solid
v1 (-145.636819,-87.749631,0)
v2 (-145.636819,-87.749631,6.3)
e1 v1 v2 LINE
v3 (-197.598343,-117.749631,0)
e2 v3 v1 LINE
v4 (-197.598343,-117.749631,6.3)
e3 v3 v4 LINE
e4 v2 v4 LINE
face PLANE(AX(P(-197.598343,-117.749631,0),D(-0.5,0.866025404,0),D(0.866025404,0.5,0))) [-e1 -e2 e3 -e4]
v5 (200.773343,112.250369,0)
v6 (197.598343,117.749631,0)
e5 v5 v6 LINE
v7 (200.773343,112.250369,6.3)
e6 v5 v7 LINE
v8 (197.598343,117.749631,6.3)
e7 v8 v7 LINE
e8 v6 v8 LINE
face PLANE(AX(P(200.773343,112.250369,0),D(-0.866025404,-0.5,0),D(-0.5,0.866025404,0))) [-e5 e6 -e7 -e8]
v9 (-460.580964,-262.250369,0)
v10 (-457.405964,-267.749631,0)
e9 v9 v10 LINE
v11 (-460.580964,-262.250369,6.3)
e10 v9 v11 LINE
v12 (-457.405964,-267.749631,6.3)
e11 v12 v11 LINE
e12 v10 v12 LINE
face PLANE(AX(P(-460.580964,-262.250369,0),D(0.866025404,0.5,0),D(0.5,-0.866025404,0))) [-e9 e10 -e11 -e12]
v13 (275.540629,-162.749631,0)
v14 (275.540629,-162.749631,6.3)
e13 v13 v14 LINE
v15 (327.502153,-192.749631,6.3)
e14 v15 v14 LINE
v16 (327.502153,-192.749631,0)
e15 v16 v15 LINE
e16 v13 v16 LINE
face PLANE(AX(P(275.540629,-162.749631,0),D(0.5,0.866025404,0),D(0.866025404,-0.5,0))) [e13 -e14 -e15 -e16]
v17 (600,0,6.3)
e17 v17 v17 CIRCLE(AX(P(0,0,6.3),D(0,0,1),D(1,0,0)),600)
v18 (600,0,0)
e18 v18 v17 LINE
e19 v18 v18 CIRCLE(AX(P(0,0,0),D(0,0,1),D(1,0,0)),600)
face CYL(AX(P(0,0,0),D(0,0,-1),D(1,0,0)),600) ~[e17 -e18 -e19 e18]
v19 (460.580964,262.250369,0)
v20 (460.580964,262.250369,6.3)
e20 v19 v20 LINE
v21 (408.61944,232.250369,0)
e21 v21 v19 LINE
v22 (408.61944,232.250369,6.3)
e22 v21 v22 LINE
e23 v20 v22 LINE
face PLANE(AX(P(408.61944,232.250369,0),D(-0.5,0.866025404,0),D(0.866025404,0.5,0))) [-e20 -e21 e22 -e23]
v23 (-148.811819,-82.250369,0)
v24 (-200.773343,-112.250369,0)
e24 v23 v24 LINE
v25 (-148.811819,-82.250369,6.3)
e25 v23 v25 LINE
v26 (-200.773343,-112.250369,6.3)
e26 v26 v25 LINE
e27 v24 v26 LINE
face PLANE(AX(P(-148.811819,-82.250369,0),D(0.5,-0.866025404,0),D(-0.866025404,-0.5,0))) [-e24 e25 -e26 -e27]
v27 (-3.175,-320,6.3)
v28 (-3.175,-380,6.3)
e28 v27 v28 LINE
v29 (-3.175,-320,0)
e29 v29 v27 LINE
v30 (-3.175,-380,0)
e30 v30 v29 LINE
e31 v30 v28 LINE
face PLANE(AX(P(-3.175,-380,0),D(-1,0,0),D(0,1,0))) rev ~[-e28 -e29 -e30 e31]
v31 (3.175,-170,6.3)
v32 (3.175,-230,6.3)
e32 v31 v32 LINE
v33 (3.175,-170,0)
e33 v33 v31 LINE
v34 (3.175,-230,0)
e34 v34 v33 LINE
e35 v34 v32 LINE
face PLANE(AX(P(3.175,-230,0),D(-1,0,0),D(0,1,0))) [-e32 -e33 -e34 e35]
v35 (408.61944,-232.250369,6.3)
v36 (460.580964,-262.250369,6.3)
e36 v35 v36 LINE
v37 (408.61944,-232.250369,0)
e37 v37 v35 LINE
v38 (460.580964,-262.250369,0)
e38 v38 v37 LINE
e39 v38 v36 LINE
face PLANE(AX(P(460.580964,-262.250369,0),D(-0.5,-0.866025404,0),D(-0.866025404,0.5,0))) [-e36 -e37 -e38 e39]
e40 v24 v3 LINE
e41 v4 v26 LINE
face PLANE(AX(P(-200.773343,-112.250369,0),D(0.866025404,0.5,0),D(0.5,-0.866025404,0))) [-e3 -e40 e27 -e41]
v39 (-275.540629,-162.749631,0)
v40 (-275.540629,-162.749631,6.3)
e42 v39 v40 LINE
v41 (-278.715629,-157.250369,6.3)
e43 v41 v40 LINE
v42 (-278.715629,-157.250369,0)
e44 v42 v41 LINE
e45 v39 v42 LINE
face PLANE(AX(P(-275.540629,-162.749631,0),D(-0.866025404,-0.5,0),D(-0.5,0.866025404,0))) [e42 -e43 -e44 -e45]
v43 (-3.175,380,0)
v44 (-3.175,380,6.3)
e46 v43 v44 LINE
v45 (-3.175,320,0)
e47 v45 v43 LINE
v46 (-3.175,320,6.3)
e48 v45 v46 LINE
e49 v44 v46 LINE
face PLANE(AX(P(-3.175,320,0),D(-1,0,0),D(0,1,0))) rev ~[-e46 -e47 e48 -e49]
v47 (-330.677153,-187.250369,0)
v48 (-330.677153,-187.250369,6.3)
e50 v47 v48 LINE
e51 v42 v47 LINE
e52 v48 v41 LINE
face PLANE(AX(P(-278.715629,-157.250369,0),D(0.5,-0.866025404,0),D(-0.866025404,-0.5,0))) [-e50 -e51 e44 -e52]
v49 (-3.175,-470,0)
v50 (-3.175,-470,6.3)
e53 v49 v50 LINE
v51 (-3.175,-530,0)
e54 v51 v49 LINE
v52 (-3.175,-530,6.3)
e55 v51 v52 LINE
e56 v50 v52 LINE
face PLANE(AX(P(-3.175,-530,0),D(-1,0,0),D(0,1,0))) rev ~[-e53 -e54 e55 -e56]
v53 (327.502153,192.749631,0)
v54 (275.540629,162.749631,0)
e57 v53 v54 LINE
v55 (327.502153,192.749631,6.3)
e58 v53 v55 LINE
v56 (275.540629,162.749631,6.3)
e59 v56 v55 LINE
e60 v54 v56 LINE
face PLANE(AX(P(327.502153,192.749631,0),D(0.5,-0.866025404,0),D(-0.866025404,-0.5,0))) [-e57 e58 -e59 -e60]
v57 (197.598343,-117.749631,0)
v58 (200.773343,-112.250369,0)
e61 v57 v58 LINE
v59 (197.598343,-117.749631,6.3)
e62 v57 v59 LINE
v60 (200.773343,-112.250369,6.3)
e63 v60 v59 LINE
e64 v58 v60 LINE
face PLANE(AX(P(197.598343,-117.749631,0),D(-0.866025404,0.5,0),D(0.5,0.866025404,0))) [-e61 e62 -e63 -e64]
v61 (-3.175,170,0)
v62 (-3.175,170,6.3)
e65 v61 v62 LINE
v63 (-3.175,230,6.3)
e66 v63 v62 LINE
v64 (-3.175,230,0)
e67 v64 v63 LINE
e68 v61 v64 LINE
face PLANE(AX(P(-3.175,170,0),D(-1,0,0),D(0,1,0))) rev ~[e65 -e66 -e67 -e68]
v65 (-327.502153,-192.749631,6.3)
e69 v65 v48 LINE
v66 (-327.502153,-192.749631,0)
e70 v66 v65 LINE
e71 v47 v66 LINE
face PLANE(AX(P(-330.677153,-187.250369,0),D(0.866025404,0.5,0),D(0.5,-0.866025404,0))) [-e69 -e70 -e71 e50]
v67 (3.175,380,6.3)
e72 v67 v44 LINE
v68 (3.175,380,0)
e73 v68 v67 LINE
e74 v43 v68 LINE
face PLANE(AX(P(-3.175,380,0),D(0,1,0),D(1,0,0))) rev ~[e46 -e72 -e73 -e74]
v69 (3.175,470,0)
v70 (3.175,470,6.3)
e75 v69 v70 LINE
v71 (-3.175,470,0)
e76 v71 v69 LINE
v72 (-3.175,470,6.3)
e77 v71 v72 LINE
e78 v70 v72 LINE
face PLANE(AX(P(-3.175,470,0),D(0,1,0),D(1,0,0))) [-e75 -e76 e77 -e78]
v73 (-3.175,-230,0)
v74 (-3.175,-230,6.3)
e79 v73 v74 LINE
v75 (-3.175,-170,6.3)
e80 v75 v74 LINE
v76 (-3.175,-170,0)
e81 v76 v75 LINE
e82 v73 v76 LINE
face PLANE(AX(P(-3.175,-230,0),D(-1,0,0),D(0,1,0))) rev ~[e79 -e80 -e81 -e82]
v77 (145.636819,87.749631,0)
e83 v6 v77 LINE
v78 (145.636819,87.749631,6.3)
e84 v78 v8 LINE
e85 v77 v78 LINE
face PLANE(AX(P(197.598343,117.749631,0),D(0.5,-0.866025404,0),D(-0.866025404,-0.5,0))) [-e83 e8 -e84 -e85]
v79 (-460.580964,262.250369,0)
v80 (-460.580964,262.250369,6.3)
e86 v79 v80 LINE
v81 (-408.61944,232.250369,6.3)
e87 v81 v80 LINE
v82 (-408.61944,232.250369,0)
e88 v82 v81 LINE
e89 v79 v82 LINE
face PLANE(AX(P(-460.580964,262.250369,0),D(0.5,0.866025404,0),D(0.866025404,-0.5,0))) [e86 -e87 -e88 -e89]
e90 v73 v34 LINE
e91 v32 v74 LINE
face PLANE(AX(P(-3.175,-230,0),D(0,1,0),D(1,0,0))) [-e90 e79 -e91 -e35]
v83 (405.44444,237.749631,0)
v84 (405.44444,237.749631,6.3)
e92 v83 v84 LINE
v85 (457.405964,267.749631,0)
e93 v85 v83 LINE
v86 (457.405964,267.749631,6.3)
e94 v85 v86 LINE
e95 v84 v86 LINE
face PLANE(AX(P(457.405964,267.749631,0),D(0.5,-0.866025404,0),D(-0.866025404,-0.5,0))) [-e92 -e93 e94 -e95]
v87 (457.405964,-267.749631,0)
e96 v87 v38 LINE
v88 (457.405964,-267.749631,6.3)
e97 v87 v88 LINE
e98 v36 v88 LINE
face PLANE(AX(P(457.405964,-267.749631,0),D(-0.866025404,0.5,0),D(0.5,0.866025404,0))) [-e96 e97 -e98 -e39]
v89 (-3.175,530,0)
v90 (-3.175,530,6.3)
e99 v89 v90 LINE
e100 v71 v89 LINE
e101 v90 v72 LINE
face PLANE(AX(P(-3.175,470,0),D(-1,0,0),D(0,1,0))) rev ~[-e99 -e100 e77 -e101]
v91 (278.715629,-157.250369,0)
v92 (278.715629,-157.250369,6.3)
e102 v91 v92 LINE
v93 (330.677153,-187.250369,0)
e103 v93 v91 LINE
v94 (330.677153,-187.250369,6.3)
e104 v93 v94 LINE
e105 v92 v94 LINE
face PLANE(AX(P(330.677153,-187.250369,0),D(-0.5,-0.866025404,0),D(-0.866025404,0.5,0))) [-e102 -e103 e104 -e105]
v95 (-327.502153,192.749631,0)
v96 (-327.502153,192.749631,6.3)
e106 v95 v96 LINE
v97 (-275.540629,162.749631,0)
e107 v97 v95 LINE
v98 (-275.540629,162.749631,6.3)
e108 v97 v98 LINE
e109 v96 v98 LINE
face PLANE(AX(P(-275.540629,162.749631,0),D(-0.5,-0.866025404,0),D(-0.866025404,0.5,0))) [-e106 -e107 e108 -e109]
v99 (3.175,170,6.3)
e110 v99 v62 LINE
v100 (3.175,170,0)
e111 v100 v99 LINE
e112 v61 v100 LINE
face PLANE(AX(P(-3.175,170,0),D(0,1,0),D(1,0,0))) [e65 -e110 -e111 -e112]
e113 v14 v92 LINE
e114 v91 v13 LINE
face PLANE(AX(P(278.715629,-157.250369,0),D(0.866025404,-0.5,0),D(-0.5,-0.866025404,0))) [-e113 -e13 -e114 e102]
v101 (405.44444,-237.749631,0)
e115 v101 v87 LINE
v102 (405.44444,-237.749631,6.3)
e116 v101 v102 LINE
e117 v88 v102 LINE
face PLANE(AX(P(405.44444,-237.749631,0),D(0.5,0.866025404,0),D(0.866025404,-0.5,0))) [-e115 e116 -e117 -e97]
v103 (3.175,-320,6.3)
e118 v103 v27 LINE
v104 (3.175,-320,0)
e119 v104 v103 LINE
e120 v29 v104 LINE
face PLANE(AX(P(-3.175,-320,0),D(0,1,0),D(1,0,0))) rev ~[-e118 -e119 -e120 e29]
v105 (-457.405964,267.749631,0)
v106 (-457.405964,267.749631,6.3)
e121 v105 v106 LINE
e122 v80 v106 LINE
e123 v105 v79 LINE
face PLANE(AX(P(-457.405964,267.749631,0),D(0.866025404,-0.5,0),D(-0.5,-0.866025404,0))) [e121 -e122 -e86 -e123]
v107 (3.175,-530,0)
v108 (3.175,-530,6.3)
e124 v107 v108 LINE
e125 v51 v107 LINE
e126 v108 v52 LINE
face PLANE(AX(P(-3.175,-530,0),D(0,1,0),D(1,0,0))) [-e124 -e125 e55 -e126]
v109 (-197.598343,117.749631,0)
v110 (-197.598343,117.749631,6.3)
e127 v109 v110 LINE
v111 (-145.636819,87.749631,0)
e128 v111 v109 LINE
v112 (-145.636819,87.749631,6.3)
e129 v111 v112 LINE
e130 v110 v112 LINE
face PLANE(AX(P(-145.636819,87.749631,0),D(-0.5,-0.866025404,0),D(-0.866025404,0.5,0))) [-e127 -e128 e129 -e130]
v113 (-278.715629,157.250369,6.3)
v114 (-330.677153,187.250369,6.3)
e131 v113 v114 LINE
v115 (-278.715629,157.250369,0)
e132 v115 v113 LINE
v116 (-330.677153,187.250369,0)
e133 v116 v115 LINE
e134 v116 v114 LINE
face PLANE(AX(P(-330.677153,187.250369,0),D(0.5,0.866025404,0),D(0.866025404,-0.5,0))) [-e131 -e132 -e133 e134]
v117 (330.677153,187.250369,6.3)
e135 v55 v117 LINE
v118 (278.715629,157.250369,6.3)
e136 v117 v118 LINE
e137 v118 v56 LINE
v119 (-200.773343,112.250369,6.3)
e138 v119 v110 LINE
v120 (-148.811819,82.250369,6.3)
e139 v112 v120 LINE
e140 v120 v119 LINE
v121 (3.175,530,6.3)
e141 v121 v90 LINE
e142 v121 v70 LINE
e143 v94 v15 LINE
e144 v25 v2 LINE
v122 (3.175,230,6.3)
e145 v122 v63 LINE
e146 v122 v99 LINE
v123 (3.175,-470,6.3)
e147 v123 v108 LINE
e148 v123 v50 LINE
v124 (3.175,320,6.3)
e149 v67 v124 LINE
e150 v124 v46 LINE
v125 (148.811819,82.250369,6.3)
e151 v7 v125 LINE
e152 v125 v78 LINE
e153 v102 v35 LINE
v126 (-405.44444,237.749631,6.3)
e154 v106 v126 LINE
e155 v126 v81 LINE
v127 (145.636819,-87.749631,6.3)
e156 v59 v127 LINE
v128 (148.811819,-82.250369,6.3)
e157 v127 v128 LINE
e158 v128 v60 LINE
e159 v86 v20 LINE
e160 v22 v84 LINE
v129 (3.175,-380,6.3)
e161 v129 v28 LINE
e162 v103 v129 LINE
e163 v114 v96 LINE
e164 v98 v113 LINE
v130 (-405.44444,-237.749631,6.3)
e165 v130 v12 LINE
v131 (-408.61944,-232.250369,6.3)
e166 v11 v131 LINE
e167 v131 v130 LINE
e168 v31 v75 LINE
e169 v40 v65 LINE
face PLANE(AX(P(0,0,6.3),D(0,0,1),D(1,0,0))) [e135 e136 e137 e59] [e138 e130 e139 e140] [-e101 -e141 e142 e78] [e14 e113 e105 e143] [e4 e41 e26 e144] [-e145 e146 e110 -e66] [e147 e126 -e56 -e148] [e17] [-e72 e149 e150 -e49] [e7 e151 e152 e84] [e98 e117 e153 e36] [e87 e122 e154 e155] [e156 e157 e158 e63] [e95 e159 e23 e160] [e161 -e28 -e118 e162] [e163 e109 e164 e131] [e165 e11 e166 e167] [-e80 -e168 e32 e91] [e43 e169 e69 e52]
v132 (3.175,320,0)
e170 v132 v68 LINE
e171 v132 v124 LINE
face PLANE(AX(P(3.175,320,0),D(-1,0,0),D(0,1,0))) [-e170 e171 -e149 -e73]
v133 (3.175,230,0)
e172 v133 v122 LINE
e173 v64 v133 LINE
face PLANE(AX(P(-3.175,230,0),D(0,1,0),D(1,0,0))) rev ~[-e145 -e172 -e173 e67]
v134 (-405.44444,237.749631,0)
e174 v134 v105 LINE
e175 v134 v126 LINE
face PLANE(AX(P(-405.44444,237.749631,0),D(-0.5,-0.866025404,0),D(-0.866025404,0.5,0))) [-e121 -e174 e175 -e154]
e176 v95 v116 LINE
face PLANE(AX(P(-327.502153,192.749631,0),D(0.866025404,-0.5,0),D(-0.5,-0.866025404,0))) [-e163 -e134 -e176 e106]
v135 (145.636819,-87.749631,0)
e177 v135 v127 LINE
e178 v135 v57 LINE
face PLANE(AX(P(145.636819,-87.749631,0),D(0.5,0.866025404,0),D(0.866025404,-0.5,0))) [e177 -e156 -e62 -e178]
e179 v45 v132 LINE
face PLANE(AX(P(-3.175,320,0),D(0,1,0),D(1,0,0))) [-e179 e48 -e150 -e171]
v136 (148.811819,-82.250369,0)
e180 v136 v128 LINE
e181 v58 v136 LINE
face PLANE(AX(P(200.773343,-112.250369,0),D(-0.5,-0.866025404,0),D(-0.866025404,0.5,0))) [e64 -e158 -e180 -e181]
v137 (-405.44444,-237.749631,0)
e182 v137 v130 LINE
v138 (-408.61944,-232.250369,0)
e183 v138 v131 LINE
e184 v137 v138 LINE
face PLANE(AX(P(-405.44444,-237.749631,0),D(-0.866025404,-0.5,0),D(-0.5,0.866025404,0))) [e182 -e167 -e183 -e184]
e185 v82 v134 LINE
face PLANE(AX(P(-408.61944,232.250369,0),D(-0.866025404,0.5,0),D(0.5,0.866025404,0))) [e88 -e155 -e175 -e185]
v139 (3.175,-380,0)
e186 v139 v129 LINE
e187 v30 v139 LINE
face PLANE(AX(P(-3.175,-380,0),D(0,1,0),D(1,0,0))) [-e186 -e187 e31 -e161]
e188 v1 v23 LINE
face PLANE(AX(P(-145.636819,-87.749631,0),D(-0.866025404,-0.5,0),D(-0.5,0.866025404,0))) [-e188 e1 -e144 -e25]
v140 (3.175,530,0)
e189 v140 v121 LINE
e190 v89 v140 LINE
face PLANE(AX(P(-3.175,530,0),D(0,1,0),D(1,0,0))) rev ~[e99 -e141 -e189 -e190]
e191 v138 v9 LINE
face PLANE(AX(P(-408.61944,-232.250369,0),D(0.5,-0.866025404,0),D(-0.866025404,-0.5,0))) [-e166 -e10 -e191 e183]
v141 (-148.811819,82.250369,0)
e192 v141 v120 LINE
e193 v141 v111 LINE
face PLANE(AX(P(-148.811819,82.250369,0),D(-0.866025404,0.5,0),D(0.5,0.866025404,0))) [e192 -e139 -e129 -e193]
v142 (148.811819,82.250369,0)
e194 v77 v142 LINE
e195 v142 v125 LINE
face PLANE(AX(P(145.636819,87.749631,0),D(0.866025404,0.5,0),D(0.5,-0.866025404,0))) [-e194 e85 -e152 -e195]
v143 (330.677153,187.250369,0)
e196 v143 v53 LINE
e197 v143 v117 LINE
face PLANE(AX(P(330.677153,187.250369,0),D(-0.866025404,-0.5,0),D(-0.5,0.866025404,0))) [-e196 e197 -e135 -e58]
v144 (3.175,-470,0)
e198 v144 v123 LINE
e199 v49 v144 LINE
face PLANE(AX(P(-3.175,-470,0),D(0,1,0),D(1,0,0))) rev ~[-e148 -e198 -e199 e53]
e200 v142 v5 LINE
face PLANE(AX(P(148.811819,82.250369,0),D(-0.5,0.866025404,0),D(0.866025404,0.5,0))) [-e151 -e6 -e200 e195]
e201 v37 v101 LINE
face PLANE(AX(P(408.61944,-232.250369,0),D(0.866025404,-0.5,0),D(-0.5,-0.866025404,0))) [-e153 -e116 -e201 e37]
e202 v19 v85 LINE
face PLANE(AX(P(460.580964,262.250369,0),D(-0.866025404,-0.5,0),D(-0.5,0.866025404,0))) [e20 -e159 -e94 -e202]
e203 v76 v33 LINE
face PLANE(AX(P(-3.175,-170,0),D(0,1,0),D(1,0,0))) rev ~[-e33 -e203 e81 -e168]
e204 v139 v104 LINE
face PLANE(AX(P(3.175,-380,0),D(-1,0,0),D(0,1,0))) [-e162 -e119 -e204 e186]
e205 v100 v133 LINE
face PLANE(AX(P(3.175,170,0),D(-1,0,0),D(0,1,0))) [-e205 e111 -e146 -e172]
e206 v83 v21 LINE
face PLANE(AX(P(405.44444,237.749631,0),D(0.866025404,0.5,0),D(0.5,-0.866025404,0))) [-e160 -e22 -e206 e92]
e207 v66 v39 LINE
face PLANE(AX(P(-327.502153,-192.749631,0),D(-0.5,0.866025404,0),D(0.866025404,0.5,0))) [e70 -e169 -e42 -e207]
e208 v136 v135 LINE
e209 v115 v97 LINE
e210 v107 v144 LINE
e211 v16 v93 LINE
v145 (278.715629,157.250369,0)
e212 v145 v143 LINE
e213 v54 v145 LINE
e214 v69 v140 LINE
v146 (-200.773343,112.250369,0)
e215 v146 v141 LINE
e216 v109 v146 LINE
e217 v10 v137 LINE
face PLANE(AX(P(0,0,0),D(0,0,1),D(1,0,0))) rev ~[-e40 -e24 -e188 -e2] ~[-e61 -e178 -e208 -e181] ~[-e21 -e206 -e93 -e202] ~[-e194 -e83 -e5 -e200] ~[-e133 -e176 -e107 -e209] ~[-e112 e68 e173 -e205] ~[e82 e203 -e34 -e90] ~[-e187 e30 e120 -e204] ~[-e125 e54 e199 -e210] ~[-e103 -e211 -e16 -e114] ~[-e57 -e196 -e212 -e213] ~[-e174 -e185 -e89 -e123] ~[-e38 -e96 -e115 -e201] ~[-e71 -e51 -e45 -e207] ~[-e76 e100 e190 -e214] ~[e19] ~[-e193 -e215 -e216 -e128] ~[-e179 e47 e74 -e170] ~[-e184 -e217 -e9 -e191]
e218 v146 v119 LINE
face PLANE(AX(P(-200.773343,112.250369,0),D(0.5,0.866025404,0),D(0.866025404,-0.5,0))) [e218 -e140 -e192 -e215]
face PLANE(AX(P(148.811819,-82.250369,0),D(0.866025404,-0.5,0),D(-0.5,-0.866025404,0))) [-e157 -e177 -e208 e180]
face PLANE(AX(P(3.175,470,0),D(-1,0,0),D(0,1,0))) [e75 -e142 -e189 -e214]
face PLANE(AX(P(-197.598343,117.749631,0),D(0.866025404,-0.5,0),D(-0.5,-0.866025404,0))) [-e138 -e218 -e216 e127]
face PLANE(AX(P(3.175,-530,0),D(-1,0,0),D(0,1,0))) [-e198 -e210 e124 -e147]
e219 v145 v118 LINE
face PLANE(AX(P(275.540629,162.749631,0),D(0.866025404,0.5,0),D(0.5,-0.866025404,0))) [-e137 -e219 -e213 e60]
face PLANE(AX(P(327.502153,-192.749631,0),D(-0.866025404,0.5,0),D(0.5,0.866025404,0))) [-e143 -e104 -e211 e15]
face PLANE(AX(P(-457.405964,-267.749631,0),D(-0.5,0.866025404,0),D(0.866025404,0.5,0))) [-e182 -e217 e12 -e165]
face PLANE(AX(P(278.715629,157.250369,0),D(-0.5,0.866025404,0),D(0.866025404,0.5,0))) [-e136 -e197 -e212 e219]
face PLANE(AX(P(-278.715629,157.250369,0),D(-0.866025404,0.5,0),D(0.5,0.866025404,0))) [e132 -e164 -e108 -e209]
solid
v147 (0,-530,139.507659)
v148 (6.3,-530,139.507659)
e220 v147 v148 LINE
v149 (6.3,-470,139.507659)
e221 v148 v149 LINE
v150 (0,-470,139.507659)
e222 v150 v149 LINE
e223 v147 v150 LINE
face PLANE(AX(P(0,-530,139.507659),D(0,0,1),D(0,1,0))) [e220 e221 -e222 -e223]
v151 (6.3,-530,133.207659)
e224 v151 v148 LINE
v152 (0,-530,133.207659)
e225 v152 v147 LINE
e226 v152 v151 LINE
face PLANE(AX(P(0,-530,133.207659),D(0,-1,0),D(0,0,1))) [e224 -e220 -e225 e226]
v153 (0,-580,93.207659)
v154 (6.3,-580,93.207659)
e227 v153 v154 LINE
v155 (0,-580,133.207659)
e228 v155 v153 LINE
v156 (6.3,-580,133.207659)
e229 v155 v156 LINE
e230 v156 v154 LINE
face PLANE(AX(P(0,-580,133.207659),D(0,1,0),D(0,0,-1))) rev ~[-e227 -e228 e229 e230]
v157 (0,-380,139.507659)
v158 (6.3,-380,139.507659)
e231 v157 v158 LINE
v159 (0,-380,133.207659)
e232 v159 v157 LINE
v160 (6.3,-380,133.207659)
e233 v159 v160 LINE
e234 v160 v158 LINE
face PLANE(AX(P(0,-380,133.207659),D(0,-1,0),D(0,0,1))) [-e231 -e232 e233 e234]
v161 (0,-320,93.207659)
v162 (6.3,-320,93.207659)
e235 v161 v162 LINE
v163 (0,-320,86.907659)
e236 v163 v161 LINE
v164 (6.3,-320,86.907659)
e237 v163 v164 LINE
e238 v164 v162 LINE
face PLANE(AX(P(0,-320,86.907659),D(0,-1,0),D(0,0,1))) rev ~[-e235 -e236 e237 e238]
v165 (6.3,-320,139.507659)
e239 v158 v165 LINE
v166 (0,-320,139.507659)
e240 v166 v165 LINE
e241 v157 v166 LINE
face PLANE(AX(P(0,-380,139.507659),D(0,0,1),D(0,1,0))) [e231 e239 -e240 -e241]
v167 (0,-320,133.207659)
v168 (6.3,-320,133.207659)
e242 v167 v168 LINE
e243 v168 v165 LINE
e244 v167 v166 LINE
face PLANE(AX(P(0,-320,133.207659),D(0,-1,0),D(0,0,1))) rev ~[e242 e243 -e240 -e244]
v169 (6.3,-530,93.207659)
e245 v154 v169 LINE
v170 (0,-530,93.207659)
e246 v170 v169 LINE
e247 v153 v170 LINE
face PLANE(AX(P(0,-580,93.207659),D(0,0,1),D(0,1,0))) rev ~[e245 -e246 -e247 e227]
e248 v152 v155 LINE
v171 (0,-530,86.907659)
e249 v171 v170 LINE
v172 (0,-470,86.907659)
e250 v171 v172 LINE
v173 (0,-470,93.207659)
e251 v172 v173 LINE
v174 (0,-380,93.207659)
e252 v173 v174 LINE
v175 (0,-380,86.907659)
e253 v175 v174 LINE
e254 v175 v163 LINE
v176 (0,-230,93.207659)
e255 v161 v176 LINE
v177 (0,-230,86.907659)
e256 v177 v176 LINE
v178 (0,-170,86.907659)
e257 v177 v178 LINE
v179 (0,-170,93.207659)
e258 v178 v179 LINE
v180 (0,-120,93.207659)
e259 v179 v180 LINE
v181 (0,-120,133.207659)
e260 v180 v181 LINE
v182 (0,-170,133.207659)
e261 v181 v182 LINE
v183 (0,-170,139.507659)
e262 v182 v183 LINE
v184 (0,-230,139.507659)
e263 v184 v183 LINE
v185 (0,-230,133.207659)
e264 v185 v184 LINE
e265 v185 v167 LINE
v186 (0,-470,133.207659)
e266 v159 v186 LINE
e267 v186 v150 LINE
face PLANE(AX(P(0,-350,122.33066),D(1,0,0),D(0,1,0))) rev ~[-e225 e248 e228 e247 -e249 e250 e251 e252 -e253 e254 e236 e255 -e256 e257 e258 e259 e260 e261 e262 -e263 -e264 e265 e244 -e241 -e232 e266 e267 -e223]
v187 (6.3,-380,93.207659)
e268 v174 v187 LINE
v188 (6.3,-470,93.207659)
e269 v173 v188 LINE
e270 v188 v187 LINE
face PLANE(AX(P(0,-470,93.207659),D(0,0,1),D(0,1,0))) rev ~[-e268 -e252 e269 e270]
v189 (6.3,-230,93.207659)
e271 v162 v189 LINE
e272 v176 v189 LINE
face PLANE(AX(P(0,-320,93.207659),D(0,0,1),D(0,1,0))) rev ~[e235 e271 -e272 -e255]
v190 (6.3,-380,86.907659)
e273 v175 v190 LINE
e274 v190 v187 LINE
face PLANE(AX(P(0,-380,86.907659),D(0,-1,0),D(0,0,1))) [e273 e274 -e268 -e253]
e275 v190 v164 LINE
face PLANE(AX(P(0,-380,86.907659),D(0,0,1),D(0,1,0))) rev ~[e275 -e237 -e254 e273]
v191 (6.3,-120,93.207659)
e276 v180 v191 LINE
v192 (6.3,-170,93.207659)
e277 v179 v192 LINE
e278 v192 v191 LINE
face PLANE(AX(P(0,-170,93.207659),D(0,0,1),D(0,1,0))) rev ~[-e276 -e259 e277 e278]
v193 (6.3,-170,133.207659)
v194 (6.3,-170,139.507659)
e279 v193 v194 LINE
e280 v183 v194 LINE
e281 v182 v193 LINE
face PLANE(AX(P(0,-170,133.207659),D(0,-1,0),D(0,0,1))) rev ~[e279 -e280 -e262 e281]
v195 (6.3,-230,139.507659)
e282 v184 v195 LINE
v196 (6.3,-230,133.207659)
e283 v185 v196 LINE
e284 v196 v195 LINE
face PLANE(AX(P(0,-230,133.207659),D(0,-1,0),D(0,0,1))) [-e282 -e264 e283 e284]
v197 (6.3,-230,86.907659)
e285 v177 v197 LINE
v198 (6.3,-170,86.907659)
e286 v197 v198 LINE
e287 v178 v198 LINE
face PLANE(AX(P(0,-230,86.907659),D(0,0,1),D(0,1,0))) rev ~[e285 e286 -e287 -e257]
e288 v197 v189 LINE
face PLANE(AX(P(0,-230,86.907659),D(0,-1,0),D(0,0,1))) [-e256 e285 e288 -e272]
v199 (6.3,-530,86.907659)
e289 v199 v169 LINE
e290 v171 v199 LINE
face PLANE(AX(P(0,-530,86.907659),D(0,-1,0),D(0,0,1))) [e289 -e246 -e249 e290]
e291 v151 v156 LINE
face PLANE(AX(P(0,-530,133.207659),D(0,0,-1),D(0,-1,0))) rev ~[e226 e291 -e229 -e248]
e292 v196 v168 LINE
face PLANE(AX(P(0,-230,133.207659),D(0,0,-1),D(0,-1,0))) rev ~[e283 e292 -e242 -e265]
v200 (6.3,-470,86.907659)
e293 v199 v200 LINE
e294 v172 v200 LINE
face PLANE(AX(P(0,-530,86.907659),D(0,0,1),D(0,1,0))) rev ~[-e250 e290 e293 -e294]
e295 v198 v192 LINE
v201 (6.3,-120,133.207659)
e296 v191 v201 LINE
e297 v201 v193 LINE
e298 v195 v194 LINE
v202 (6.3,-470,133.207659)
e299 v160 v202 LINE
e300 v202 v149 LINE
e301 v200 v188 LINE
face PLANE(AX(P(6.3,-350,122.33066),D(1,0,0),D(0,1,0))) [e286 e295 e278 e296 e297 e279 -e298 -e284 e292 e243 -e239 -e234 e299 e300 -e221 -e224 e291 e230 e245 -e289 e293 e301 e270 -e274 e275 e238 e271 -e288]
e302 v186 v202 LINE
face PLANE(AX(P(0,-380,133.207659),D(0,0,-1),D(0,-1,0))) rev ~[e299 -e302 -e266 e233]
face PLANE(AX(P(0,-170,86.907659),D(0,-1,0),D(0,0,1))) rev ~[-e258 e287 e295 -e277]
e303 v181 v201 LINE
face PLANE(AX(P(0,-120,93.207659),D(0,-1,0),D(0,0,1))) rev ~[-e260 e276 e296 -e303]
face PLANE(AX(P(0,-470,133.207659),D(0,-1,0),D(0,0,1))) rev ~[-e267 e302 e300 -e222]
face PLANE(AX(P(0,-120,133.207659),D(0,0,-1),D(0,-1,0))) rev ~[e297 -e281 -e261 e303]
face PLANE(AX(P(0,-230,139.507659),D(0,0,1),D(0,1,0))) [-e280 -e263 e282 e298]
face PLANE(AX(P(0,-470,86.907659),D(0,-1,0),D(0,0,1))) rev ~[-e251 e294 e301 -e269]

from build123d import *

# Parameters (mm, degrees)
F0_R     = 600
F2_DEPTH = 6.3
F1_W     = 6.35
F1_H     = 60
F3_DEPTH = 25
F4_W     = 60
F4_H     = 6.3
F5_DEPTH = 6.3


with BuildPart() as f2:
    # F0 (on Top) → F2 (new body)
    with BuildSketch(Plane.XY):
        Circle(F0_R)
    extrude(amount=F2_DEPTH)

    # F1 (on Top) → F3 (cut)
    with BuildSketch(Plane.XY):
        with Locations((0, 200)):
            Rectangle(F1_W, F1_H)
        with Locations((0, 350)):
            Rectangle(F1_W, F1_H)
        with Locations((0, 500)):
            Rectangle(F1_W, F1_H)
        Polygon((-460.5809640058, 262.250369343), (-408.6194397787, 232.250369343), (-405.4444397787, 237.749630657), (-457.4059640058, 267.749630657), align=None)
        Polygon((-197.5983428704, 117.749630657), (-200.7733428704, 112.250369343), (-148.8118186434, 82.250369343), (-145.6368186434, 87.749630657), align=None)
        Polygon((-330.6771534381, 187.250369343), (-278.715629211, 157.250369343), (-275.540629211, 162.749630657), (-327.5021534381, 192.749630657), align=None)
        Polygon((-457.4059640058, -267.749630657), (-405.4444397787, -237.749630657), (-408.6194397787, -232.250369343), (-460.5809640058, -262.250369343), align=None)
        Polygon((-200.7733428704, -112.250369343), (-197.5983428704, -117.749630657), (-145.6368186434, -87.749630657), (-148.8118186434, -82.250369343), align=None)
        Polygon((-327.5021534381, -192.749630657), (-275.540629211, -162.749630657), (-278.715629211, -157.250369343), (-330.6771534381, -187.250369343), align=None)
        with Locations((0, -500)):
            Rectangle(F1_W, F1_H)
        with Locations((0, -200)):
            Rectangle(F1_W, F1_H)
        with Locations((0, -350)):
            Rectangle(F1_W, F1_H)
        Polygon((460.5809640058, -262.250369343), (408.6194397787, -232.250369343), (405.4444397787, -237.749630657), (457.4059640058, -267.749630657), align=None)
        Polygon((197.5983428704, -117.749630657), (200.7733428704, -112.250369343), (148.8118186434, -82.250369343), (145.6368186434, -87.749630657), align=None)
        Polygon((330.6771534381, -187.250369343), (278.715629211, -157.250369343), (275.540629211, -162.749630657), (327.5021534381, -192.749630657), align=None)
        Polygon((457.4059640058, 267.749630657), (405.4444397787, 237.749630657), (408.6194397787, 232.250369343), (460.5809640058, 262.250369343), align=None)
        Polygon((200.7733428704, 112.250369343), (197.5983428704, 117.749630657), (145.6368186434, 87.749630657), (148.8118186434, 82.250369343), align=None)
        Polygon((327.5021534381, 192.749630657), (275.540629211, 162.749630657), (278.715629211, 157.250369343), (330.6771534381, 187.250369343), align=None)
    extrude(amount=F3_DEPTH, mode=Mode.SUBTRACT)


with BuildPart() as f5:
    # F4 (on Right) → F5 (new body)
    with BuildSketch(Plane.YZ):
        Polygon((-580, 133.2076589066), (-580, 113.2076589066), (-120, 113.2076589066), (-120, 133.2076589066), (-170, 133.2076589066), (-170, 126.9076589066), (-230, 126.9076589066), (-230, 133.2076589066), (-320, 133.2076589066), (-320, 126.9076589066), (-380, 126.9076589066), (-380, 133.2076589066), (-470, 133.2076589066), (-470, 126.9076589066), (-530, 126.9076589066), (-530, 133.2076589066), align=None)
        Polygon((-120, 113.2076589066), (-580, 113.2076589066), (-580, 93.2076589066), (-530, 93.2076589066), (-530, 99.5076589066), (-470, 99.5076589066), (-470, 93.2076589066), (-380, 93.2076589066), (-380, 99.5076589066), (-320, 99.5076589066), (-320, 93.2076589066), (-230, 93.2076589066), (-230, 99.5076589066), (-170, 99.5076589066), (-170, 93.2076589066), (-120, 93.2076589066), align=None)
        with Locations((-500, 96.3576589066)):
            Rectangle(F4_W, F4_H)
        with Locations((-500, 90.0576589066)):
            Rectangle(F4_W, F4_H)
        with Locations((-500, 130.0576589066)):
            Rectangle(F4_W, F4_H)
        with Locations((-500, 136.3576589066)):
            Rectangle(F4_W, F4_H)
        with Locations((-200, 90.0576589066)):
            Rectangle(F4_W, F4_H)
        with Locations((-200, 96.3576589066)):
            Rectangle(F4_W, F4_H)
        with Locations((-200, 136.3576589066)):
            Rectangle(F4_W, F4_H)
        with Locations((-200, 130.0576589066)):
            Rectangle(F4_W, F4_H)
        with Locations((-350, 96.3576589066)):
            Rectangle(F4_W, F4_H)
        with Locations((-350, 90.0576589066)):
            Rectangle(F4_W, F4_H)
        with Locations((-350, 130.0576589066)):
            Rectangle(F4_W, F4_H)
        with Locations((-350, 136.3576589066)):
            Rectangle(F4_W, F4_H)
    extrude(amount=F5_DEPTH)


solid = Compound([f2.part, f5.part])
